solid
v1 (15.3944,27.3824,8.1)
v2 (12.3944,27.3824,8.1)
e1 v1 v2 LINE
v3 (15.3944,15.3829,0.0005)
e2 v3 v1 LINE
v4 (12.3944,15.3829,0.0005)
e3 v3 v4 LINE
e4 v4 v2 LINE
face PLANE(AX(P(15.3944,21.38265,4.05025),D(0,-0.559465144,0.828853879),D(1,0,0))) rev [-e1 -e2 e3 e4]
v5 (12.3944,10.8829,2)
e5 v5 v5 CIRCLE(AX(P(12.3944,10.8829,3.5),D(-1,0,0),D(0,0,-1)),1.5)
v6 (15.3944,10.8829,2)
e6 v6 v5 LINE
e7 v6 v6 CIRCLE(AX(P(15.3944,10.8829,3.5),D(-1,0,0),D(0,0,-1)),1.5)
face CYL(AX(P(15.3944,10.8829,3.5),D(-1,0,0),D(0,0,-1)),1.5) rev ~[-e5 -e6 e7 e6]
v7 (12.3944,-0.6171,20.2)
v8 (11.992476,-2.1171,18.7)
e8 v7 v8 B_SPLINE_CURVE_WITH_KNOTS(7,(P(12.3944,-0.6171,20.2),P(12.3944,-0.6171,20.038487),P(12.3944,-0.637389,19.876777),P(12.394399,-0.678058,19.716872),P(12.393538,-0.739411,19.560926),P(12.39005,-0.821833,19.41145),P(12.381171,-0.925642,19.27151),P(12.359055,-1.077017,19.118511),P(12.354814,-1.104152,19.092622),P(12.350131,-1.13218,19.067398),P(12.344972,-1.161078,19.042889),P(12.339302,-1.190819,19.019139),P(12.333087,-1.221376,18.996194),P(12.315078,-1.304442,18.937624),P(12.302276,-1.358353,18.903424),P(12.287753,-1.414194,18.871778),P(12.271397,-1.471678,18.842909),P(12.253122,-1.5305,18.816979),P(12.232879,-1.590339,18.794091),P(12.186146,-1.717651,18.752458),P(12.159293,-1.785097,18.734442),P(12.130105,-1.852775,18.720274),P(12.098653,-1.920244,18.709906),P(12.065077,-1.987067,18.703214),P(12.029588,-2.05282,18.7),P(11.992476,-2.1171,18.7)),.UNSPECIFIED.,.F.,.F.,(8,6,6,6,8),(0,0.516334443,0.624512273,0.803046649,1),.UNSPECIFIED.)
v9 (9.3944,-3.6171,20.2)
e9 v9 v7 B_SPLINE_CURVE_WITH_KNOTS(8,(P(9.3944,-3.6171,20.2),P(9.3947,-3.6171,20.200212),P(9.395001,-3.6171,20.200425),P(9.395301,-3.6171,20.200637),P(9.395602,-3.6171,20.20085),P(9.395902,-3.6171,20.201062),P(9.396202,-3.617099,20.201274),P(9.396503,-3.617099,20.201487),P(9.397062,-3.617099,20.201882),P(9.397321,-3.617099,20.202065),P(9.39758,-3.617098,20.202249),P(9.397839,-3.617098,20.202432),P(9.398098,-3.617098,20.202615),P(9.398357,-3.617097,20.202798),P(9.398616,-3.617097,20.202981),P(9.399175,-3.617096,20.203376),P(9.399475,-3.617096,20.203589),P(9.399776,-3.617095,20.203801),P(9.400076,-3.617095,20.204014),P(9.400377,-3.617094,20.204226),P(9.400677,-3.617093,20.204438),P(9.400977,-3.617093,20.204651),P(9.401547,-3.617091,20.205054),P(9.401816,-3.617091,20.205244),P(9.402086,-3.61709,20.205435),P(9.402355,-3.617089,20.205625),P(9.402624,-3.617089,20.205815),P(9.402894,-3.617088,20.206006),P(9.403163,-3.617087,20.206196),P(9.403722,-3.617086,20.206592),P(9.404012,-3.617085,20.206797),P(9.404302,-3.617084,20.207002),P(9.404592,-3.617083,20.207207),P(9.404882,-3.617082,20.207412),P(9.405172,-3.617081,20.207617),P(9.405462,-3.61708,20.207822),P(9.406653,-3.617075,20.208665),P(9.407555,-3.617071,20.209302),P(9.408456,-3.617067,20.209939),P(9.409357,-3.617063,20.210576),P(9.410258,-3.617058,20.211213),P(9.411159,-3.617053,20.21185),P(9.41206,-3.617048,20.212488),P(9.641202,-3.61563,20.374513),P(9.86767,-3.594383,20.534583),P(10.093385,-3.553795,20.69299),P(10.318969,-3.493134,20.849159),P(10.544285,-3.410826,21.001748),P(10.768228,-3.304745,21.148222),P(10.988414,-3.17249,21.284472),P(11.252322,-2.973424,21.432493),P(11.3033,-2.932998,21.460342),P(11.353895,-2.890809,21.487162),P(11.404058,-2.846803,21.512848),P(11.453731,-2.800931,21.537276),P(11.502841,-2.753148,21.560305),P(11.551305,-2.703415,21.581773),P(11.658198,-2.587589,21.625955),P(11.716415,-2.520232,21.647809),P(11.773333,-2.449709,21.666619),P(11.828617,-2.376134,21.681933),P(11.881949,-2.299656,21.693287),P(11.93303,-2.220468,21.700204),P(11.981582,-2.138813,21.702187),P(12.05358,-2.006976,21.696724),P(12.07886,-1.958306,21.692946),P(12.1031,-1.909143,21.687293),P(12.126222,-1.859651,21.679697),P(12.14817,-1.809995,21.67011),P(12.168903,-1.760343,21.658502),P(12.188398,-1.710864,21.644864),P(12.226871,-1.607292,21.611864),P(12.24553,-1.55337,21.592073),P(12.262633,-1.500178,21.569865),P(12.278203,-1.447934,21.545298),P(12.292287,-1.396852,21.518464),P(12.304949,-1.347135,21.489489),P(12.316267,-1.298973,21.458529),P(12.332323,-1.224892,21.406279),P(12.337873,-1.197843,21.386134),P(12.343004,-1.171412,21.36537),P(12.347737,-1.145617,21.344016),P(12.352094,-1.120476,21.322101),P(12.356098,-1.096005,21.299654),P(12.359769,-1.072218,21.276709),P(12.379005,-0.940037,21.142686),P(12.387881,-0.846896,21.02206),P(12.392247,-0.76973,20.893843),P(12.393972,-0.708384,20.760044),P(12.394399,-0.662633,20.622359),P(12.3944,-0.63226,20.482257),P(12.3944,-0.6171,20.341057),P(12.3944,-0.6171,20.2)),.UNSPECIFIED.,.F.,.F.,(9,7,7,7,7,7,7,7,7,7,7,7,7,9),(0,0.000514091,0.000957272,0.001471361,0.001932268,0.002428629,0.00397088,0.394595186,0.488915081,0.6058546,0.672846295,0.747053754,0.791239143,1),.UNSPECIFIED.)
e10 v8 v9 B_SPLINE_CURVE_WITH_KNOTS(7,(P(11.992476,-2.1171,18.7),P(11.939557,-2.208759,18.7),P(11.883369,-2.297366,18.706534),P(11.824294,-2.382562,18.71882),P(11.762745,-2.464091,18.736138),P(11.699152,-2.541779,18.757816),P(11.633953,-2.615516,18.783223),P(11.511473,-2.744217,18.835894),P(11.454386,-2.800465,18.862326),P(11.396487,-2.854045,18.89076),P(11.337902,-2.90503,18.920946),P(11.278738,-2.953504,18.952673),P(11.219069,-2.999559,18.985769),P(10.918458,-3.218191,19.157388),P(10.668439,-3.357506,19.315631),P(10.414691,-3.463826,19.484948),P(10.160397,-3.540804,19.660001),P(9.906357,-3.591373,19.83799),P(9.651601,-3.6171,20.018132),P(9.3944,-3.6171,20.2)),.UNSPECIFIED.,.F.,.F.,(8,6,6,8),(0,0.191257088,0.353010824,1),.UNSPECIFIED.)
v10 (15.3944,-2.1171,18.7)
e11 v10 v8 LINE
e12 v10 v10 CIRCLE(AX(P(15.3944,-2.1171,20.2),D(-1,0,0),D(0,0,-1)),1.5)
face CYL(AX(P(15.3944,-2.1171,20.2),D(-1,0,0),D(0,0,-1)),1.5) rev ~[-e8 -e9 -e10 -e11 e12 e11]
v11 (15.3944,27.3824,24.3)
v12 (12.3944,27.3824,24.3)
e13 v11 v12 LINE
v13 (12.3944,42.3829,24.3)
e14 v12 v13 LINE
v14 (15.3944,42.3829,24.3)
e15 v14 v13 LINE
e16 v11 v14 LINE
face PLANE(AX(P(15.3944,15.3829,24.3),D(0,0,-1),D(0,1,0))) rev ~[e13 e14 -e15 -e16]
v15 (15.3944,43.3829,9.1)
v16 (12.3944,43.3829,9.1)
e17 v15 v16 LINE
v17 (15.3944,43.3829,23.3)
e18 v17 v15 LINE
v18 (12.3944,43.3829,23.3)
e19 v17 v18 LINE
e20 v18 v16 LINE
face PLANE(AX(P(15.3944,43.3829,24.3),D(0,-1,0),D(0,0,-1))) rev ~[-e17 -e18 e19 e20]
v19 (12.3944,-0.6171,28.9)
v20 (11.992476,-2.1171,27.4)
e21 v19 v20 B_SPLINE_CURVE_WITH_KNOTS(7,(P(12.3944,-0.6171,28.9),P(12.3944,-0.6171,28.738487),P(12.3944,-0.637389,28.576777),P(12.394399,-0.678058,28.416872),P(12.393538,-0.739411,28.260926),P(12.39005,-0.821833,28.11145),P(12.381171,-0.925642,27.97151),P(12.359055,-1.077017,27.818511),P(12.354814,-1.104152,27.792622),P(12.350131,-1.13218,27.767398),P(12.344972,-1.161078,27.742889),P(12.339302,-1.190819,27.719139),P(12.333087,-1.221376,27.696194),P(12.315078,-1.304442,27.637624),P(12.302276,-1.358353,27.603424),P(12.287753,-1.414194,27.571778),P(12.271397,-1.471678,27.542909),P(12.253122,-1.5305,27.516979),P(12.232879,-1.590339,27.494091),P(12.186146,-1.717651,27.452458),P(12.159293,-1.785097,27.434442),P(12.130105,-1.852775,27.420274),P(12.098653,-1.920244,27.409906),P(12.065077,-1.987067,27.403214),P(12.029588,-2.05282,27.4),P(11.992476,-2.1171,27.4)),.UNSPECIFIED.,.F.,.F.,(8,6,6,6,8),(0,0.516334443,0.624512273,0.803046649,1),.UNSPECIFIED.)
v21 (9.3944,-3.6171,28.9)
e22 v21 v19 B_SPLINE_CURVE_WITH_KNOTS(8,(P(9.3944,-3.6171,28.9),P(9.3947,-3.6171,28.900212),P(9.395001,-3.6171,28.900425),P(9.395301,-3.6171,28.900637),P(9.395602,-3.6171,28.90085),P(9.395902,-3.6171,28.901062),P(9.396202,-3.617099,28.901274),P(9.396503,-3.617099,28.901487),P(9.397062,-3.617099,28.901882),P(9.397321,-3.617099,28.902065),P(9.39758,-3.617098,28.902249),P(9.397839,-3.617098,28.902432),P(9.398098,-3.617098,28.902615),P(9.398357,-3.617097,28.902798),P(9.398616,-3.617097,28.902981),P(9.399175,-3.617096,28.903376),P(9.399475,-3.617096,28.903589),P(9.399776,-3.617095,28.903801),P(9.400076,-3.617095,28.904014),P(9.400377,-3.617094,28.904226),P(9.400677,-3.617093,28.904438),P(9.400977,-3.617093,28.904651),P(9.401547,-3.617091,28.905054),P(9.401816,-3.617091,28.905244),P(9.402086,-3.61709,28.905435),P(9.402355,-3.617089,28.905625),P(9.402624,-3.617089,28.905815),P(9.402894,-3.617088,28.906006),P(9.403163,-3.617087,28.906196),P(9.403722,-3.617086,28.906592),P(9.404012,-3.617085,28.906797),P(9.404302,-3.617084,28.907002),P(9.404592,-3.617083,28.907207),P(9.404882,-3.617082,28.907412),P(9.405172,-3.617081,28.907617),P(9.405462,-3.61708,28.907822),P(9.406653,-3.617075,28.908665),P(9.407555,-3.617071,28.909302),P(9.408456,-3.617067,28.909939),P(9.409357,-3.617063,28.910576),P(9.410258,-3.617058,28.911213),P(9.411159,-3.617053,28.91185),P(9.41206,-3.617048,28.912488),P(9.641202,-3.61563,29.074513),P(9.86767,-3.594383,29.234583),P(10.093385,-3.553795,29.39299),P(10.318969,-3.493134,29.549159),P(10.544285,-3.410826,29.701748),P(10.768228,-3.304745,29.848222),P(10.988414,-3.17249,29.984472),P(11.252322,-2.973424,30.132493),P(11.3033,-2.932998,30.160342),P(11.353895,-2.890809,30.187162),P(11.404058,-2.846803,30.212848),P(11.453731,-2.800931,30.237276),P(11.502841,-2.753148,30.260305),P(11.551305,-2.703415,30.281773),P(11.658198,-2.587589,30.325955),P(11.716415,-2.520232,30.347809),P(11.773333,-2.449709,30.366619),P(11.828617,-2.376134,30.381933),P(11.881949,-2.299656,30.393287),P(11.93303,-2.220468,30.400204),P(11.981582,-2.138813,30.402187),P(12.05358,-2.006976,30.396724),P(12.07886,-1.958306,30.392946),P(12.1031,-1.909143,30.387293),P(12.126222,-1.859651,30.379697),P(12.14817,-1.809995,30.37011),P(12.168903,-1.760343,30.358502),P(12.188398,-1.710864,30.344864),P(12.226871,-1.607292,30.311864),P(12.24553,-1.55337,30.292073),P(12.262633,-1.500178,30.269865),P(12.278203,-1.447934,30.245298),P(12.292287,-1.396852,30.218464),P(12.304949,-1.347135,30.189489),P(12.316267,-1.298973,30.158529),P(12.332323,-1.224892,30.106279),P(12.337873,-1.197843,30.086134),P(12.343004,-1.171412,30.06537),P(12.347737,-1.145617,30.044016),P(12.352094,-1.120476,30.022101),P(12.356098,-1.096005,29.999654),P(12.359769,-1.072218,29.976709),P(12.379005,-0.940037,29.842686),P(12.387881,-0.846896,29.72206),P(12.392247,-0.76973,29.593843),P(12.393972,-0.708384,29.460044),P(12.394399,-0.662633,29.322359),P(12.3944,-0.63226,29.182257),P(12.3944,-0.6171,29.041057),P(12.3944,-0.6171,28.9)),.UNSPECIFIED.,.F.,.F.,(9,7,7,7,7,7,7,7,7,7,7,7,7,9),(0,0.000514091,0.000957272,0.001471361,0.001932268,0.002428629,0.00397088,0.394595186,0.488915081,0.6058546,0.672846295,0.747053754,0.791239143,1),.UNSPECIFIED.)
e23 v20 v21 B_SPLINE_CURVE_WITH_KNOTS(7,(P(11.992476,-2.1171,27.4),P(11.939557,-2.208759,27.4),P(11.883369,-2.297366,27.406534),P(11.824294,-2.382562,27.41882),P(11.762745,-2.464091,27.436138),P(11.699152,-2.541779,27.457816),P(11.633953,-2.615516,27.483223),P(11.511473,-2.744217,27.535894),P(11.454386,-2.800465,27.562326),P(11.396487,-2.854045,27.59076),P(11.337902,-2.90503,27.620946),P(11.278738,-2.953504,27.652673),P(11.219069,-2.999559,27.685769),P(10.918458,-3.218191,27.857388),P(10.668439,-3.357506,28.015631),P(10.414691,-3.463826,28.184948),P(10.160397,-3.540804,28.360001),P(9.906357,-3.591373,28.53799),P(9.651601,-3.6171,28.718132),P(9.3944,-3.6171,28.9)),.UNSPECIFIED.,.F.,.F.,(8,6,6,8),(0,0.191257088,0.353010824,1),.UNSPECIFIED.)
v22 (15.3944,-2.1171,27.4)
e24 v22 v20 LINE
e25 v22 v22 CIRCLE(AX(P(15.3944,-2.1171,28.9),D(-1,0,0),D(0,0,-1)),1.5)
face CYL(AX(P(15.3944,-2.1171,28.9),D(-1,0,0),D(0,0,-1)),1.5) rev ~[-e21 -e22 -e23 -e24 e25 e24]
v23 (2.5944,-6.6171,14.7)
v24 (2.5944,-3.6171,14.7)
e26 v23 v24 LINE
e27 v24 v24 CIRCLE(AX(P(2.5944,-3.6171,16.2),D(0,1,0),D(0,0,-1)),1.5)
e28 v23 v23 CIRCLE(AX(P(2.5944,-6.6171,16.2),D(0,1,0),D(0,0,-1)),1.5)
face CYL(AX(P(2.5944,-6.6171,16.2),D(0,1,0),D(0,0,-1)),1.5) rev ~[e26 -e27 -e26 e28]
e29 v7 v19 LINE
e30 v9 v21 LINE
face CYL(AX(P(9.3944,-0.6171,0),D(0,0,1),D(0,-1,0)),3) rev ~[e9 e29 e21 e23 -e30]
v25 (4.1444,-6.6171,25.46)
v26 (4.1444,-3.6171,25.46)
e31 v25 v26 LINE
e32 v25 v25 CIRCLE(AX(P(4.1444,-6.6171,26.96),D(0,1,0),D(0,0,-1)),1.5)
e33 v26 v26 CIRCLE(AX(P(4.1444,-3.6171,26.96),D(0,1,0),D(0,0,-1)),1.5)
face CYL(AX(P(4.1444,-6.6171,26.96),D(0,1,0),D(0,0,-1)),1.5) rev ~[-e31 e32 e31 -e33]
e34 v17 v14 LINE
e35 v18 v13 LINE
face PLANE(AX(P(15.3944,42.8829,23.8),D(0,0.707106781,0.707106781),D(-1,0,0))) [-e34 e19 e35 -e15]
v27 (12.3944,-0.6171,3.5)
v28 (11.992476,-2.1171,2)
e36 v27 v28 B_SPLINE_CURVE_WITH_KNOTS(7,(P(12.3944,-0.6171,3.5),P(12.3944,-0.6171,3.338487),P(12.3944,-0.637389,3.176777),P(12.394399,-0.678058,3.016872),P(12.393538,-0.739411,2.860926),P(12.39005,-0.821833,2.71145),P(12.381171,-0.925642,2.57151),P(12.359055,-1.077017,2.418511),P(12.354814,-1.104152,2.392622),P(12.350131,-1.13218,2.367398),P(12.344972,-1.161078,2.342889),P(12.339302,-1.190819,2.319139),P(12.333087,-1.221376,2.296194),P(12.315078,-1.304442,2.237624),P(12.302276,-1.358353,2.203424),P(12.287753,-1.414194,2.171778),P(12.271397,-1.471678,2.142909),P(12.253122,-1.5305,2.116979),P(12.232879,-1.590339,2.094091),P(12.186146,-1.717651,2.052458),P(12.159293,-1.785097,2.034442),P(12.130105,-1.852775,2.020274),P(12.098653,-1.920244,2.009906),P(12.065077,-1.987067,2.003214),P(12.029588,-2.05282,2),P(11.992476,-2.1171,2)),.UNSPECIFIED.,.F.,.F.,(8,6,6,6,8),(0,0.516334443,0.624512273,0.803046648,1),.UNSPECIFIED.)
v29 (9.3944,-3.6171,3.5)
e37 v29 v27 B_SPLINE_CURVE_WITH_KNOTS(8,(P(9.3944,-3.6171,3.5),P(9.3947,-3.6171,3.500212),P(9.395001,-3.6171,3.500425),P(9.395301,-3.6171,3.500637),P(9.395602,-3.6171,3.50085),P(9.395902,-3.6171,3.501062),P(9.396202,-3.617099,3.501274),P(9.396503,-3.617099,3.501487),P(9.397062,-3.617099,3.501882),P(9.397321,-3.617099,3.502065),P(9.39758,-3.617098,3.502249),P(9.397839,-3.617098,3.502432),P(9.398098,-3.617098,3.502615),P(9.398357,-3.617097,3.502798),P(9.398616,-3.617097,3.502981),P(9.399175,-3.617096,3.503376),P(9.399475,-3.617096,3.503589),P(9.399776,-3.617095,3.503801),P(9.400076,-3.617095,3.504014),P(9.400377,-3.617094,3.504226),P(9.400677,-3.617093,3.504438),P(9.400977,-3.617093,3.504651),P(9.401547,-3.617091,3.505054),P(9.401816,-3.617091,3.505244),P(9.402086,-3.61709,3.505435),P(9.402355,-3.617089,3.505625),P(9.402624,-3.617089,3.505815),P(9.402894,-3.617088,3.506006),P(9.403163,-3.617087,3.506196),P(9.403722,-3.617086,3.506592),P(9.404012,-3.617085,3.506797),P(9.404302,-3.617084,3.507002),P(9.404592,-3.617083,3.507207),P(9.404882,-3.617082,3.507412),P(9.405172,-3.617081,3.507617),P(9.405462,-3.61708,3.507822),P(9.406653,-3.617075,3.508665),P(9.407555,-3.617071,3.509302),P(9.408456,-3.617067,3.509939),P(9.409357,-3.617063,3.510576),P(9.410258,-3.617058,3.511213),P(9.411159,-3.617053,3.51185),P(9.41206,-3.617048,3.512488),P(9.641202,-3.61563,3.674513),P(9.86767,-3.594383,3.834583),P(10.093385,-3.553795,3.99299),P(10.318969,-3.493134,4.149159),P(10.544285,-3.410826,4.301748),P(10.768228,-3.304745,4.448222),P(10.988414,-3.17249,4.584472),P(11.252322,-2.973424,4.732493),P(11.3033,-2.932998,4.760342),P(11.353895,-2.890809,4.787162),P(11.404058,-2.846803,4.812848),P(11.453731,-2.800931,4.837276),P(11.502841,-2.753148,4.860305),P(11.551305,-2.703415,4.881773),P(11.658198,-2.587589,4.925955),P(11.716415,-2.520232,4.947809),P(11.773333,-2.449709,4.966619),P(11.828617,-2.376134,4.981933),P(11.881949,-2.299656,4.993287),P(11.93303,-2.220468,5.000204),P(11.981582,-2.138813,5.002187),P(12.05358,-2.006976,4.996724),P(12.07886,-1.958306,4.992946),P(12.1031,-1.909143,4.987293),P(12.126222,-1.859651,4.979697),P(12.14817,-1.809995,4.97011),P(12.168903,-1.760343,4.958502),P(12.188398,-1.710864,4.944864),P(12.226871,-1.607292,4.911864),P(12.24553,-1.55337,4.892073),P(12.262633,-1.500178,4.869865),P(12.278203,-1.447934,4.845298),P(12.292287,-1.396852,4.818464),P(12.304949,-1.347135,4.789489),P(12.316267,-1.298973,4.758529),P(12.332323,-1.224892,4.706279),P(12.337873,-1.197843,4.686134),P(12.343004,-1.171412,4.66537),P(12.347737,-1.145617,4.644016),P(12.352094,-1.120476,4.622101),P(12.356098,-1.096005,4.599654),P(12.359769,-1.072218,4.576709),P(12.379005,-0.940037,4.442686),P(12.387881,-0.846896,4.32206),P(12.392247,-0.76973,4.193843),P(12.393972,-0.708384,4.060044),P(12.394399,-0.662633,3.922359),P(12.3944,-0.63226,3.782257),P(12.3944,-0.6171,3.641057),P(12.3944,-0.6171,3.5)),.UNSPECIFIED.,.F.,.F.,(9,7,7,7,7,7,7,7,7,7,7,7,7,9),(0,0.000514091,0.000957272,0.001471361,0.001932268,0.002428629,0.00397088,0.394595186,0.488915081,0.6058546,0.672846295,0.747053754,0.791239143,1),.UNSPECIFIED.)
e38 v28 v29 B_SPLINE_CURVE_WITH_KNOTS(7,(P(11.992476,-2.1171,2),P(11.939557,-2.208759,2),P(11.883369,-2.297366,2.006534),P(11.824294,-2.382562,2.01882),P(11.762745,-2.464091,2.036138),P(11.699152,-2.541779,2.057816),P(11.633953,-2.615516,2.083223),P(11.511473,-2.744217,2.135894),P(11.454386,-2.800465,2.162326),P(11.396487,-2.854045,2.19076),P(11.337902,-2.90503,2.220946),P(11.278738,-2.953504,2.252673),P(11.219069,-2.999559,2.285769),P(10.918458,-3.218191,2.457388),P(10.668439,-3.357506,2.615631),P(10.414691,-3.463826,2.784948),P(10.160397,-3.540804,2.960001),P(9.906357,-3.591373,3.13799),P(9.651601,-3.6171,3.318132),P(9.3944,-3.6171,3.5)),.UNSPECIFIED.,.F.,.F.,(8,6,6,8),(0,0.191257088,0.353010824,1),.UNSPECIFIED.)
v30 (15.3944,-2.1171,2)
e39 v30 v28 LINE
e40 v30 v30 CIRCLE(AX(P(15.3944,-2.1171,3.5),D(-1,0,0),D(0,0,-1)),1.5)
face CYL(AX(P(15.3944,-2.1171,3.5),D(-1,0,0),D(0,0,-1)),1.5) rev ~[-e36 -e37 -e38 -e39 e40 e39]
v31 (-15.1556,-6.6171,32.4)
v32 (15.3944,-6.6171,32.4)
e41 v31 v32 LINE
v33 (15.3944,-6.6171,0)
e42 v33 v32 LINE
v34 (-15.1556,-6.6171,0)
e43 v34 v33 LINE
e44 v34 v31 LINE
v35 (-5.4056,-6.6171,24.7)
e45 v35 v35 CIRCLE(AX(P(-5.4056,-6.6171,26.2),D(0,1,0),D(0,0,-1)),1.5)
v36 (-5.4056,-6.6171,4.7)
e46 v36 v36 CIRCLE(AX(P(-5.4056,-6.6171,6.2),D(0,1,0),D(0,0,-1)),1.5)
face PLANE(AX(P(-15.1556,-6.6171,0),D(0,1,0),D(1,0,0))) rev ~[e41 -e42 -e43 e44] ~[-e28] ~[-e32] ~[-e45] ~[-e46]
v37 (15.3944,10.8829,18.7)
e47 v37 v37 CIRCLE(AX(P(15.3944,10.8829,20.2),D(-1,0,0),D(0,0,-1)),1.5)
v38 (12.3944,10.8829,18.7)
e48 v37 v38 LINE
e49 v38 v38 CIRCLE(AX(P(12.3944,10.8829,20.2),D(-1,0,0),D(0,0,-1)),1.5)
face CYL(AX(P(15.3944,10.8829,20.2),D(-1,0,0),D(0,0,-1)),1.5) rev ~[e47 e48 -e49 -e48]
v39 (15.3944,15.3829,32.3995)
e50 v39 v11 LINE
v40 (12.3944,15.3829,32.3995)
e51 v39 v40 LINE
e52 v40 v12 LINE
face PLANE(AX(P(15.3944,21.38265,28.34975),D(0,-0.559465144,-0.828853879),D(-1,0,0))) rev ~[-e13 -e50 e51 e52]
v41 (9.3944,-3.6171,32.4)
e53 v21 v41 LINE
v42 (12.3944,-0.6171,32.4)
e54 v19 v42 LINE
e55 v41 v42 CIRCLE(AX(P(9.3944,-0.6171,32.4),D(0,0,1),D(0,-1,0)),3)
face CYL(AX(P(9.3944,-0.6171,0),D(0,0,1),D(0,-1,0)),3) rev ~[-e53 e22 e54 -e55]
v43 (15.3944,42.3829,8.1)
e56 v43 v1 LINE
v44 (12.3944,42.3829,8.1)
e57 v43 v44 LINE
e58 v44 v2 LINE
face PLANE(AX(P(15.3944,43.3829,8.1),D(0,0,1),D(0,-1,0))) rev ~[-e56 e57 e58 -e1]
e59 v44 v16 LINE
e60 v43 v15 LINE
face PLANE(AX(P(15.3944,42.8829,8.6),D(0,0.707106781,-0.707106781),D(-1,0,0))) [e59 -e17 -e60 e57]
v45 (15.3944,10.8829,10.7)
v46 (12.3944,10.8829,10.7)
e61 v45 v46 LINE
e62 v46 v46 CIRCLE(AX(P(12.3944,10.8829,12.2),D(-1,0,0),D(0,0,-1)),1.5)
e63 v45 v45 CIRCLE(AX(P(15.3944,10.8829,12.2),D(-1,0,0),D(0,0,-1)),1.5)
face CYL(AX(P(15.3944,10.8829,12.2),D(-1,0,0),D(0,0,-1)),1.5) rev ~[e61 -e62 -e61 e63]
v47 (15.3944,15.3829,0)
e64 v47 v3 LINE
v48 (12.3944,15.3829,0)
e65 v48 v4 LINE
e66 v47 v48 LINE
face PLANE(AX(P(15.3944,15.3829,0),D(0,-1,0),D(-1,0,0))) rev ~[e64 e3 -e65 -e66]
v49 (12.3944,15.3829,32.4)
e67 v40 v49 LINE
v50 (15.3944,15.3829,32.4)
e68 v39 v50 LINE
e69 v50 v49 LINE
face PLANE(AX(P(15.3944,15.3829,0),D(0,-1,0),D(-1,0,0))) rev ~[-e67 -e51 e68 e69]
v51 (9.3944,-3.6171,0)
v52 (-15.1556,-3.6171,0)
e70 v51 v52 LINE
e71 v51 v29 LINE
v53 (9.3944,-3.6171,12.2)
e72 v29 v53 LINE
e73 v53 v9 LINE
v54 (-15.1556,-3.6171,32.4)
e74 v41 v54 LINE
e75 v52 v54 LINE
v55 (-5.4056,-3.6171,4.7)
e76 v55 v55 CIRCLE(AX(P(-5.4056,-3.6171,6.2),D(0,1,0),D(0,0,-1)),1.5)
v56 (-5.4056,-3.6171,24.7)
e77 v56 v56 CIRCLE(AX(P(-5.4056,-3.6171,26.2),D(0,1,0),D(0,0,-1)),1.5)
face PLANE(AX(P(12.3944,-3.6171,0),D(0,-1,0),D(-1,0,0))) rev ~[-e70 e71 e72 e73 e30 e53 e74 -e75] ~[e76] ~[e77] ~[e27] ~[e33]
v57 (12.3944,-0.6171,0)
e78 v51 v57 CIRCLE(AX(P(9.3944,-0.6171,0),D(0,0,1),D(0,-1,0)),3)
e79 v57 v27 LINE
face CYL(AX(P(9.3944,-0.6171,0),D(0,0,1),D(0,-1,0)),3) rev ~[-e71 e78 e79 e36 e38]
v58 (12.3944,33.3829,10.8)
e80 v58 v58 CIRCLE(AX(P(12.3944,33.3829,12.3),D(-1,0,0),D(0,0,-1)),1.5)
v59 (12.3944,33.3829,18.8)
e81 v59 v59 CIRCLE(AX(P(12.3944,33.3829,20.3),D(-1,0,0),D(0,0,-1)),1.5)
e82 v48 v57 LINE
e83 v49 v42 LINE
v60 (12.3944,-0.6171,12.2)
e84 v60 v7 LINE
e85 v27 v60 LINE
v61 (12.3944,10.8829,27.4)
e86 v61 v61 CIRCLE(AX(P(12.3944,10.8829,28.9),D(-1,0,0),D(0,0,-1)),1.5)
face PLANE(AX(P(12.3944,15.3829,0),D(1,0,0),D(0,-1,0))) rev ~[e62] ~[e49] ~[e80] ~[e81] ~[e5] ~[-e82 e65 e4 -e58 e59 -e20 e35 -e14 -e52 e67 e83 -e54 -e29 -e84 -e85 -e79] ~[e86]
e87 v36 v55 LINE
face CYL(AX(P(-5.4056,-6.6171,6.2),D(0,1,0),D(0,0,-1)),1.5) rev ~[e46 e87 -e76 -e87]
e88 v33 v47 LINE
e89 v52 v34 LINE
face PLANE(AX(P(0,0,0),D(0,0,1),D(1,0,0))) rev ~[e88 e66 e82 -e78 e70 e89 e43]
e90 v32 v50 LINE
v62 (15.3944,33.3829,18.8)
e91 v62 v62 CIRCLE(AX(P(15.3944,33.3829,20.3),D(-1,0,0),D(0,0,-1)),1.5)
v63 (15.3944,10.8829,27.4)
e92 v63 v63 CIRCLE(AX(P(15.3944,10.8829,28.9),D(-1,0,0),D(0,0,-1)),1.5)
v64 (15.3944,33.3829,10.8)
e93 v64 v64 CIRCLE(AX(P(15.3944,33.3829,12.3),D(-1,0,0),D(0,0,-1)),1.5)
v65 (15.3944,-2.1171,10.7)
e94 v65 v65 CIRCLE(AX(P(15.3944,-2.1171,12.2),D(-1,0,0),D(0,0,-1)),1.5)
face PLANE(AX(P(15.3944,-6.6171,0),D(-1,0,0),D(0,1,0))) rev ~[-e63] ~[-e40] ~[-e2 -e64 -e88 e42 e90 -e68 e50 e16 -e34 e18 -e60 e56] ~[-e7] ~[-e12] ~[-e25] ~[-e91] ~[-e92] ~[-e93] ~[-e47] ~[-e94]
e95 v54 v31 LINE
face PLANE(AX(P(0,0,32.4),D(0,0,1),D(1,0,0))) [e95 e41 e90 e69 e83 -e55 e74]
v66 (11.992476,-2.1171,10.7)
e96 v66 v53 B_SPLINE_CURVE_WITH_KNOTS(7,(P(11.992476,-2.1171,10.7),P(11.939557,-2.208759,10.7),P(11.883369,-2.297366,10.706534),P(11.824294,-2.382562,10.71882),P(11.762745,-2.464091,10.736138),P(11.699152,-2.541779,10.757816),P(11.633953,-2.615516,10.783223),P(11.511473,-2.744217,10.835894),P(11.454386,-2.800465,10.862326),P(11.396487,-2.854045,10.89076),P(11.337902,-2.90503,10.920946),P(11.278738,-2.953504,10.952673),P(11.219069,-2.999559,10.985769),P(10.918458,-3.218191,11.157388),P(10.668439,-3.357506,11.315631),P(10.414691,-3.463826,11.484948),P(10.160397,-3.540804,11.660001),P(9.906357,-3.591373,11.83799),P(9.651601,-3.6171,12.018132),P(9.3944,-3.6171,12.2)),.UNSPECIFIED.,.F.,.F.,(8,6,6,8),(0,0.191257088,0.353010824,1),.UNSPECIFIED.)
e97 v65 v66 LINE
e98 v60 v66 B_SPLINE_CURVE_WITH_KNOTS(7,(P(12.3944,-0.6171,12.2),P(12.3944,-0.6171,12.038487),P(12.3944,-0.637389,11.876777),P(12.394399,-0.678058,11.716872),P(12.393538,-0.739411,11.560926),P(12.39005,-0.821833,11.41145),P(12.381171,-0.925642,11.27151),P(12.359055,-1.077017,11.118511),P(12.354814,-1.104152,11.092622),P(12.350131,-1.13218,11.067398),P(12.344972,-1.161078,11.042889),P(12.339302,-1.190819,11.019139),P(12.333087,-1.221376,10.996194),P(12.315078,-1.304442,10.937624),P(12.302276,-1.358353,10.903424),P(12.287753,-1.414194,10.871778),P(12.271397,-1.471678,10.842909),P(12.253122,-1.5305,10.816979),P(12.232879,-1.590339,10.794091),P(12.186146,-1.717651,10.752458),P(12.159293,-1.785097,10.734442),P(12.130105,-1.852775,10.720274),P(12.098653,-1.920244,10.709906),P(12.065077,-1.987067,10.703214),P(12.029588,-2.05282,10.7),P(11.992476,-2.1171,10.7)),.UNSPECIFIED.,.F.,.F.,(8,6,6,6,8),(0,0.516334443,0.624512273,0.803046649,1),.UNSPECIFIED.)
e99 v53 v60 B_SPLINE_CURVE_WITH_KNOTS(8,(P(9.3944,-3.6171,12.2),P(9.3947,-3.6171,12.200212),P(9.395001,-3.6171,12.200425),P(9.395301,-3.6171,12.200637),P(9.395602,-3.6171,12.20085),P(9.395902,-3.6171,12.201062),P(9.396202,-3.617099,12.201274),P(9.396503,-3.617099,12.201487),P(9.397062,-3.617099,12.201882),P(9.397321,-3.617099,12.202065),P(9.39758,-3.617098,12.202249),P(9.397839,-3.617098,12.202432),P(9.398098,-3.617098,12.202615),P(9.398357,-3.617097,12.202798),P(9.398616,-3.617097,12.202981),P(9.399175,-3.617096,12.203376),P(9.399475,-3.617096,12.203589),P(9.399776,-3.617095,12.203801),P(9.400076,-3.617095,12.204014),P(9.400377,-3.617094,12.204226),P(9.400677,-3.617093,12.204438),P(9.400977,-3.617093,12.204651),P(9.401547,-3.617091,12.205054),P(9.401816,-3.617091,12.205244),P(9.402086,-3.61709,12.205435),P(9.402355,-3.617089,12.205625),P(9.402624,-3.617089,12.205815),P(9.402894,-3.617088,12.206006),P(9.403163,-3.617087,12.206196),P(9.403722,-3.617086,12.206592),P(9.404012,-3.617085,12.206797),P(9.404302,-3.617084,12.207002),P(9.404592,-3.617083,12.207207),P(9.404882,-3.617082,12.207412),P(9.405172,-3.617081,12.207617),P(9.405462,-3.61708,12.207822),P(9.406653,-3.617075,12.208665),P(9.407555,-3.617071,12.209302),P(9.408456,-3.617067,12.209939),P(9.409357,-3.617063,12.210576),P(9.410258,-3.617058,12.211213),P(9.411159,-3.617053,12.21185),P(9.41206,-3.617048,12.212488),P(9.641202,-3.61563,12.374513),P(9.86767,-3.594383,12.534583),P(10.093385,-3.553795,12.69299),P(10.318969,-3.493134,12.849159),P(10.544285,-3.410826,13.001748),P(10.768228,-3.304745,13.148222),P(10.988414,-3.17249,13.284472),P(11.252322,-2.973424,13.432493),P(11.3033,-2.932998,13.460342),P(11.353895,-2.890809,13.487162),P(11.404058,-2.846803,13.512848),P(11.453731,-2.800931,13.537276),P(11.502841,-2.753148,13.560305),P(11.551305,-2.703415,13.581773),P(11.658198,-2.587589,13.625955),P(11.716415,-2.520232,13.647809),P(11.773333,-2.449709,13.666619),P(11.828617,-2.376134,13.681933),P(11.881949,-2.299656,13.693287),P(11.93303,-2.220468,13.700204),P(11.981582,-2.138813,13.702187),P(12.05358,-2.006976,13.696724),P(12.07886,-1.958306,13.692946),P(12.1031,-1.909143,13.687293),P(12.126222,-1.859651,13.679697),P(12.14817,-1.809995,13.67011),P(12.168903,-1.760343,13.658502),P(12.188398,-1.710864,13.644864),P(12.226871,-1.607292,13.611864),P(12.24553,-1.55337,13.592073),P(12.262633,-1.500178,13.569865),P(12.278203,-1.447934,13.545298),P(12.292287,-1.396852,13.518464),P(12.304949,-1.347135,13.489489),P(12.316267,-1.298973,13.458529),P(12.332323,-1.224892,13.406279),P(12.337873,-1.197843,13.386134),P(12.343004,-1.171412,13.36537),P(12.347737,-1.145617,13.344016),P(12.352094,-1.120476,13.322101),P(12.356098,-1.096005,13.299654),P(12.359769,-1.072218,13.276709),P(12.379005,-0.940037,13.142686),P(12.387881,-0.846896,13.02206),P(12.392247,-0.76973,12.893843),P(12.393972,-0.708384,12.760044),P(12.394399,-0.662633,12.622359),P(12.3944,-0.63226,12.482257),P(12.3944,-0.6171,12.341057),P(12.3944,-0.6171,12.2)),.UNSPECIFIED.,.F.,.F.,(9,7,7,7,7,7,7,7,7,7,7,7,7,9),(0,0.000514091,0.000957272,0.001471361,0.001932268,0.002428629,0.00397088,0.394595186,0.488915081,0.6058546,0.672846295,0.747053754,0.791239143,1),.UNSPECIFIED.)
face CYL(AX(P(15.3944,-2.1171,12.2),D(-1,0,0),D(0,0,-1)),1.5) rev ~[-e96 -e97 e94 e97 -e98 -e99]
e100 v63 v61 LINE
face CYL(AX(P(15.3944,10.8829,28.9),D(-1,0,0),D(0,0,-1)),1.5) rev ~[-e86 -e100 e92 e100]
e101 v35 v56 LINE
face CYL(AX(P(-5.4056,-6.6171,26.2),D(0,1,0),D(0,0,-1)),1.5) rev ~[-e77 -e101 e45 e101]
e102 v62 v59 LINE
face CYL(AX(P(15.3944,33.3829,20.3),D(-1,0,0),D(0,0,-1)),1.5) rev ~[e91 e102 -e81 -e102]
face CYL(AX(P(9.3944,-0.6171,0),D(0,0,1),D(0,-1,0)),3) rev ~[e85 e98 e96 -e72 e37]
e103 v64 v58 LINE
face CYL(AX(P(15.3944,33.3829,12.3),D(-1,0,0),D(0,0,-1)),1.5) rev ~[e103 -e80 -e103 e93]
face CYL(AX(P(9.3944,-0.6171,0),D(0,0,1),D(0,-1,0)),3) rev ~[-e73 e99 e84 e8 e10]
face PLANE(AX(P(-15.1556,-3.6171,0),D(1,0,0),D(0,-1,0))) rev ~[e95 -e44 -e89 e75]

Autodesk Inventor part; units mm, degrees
ref_plane "YZ Plane" through (0, 0, 0) normal (1, 0, 0) x (0, 1, 0)
ref_plane "XZ Plane" through (0, 0, 0) normal (0, 1, 0) x (-1, 0, 0)
ref_plane "XY Plane" through (0, 0, 0) normal (0, 0, 1) x (1, 0, 0)
sketch "Szkic1" plane through (0, 0, 0) normal (0, 0, 1) x (1, 0, 0)
  line L0 (-15.1556, -3.6171) -> (-15.1556, -6.6171)
  line L1 (-15.1556, -6.6171) -> (15.3944, -6.6171)
  line L2 (15.3944, -6.6171) -> (15.3944, 15.3829)
  line L3 (15.3944, 15.3829) -> (12.3944, 15.3829)
  line L4 (12.3944, 15.3829) -> (12.3944, -3.6171)
  line L5 (12.3944, -3.6171) -> (-15.1556, -3.6171)
  point P0 (0, 0)
  dimension "d0" = 3
  dimension "d1" = 30.55
  dimension "d2" = 22
  dimension "d3" = 3
extrude "Wyciągnięcie proste1" add sketch "Szkic1" along normal blind 32.4
fillet "Zaokrąglenie1" radius 3 1 edges at (12.3944, -3.6171, 16.2)
sketch "Szkic3" plane through (15.3944, -6.6171, 32.4) normal (1, 0, 0) x (0, 0, -1)
  line L0 (32.4, 22) -> (0, 22) projected
  line L1 (0, 0) -> (0, 22) projected
  line L2 (32.4, 0) -> (0, 0) projected
  line L3 (32.4, 0) -> (32.4, 22) projected
  line L4 (32.4, 22) -> (0, 22) projected
  line L5 (24.3, 22) -> (8.1, 22)
  line L6 (8.1, 22) -> (8.1, 50)
  line L7 (8.1, 50) -> (24.3, 50)
  line L8 (24.3, 50) -> (24.3, 22)
  point P0 (32.4, 6.6171)
  dimension "d48" = 16.2
  dimension "d49" = 28
  dimension "d50" = 32.4
  dimension "d51" = 8.1
extrude "Wyciągnięcie proste3" add sketch "Szkic3" against normal blind 3 contours L0 L6 L7 L8
sketch "Szkic4" plane through (-15.1556, -6.6171, 0) normal (0, -1, 0) x (1, 0, 0)
  line L0 (0, 0) -> (30.55, 0) projected
  line L1 (30.55, 0) -> (30.55, 32.4) projected
  line L2 (0, 32.4) -> (30.55, 32.4) projected
  line L3 (0, 0) -> (0, 32.4) projected
  point P0 (15.1556, 0)
  point P1 (9.75, 26.2)
  point P2 (9.75, 6.2)
  point P3 (17.75, 16.2)
  dimension "d37" = 9.75
  dimension "d38" = 9.75
  dimension "d39" = 6.2
  dimension "d40" = 6.2
  dimension "d69" = 32.4
  dimension "d70" = 16.2
  dimension "d71" = 17.75
hole "Otwór2" at (-5.4056, -6.6171, 26.2) at (-5.4056, -6.6171, 6.2) at (2.5944, -6.6171, 16.2) direction (0, 1, 0) diameter 3 end through all
sketch "Szkic5" plane through (15.3944, -6.6171, 0) normal (1, 0, 0) x (0, 0, -1)
  line L0 (0, 0) -> (0, 22) projected
  line L1 (0, 22) -> (-8.1, 22) projected
  line L2 (-8.1, 22) -> (-8.1, 50) projected
  line L3 (-8.1, 50) -> (-24.3, 50) projected
  line L4 (-24.3, 50) -> (-24.3, 22) projected
  line L5 (-24.3, 22) -> (-32.4, 22) projected
  line L6 (-32.4, 0) -> (-32.4, 22) projected
  line L7 (0, 0) -> (-32.4, 0) projected
  point P0 (0, 6.6171)
  point P1 (-12.3, 40)
  point P2 (-20.3, 40)
  dimension "d52" = 10
  dimension "d53" = 10
  dimension "d54" = 4
  dimension "d55" = 4.2
hole "Otwór3" at (15.3944, 33.3829, 12.3) at (15.3944, 33.3829, 20.3) direction (-1, 0, 0) diameter 3 end through all
chamfer "Faza2" distance 1 angle 45 2 edges at (13.8944, 43.3829, 24.3) (13.8944, 43.3829, 8.1)
chamfer "Faza4" distance 8.1 distance2 12 1 edges at (13.8944, 15.3829, 24.3) measured on face at (14.3944, 15.3829, 27)
chamfer "Faza5" distance 8.1 distance2 12 1 edges at (13.8944, 15.3829, 8.1) measured on face at (14.3944, 15.3829, 2.7)
sketch "Szkic6" plane through (15.3944, -6.6171, 32.4) normal (1, 0, 0) x (0, 0, -1)
  circle A0 centre (20.1, 40) radius 1.5 projected
  circle A1 centre (12.1, 40) radius 1.5 projected
  line L0 (23.3, 50) -> (24.3, 49) projected
  line L1 (23.3, 50) -> (9.1, 50) projected
  line L2 (8.1, 49) -> (9.1, 50) projected
  line L3 (8.1, 49) -> (8.1, 34) projected
  line L4 (0, 22) -> (8.1, 34) projected
  line L5 (0, 0) -> (0, 22) projected
  line L6 (32.4, 0) -> (0, 0) projected
  line L7 (32.4, 0) -> (32.4, 22) projected
  line L8 (24.3, 34) -> (32.4, 22) projected
  line L9 (24.3, 34) -> (24.3, 49) projected
  point P0 (32.4, 6.6171)
  point P1 (3.5, 17.5)
  point P2 (3.5, 4.5)
  point P3 (28.9, 17.5)
  point P4 (28.9, 4.5)
  point P5 (35.2902, 42.5614)
  point P6 (12.2, 17.5)
  point P7 (12.2, 4.5)
  point P8 (20.2, 17.5)
  point P9 (20.2, 4.5)
  dimension "d79" = 3.5
  dimension "d80" = 3.5
  dimension "d81" = 3.5
  dimension "d82" = 3.5
  dimension "d83" = 4.5
  dimension "d84" = 4.5
  dimension "d85" = 13
  dimension "d86" = 13
  dimension "d87" = 8.7
  dimension "d88" = 8.7
  dimension "d89" = 8.7
  dimension "d90" = 8.7
hole "Otwór4" at (15.3944, 10.8829, 28.9) at (15.3944, -2.1171, 28.9) at (15.3944, 10.8829, 3.5) at (15.3944, -2.1171, 3.5) at (15.3944, 35.9442, -2.8902) at (15.3944, 10.8829, 20.2) at (15.3944, -2.1171, 20.2) at (15.3944, 10.8829, 12.2) at (15.3944, -2.1171, 12.2) direction (-1, 0, 0) diameter 3 end through all
sketch "Szkic7" plane through (-15.1556, -6.6171, 0) normal (0, -1, 0) x (1, 0, 0)
  circle A0 centre (9.75, 6.2) radius 1.5 projected
  circle A1 centre (9.75, 26.2) radius 1.5 projected
  circle A2 centre (17.75, 16.2) radius 1.5 projected
  line L0 (0, 0) -> (30.55, 0) projected
  line L1 (30.55, 0) -> (30.55, 32.4) projected
  line L2 (0, 32.4) -> (30.55, 32.4) projected
  line L3 (0, 0) -> (0, 32.4) projected
  point P0 (15.1556, 0)
  point P1 (19.3, 26.96)
  dimension "d98" = 5.44
  dimension "d99" = 19.3
hole "Otwór5" at (4.1444, -6.6171, 26.96) direction (0, 1, 0) diameter 3 depth 8 tip angle 118
equation "\"d51\" = -0.5 * d48 + 0.5 * d50"
equation "\"d38\" = d37"
equation "\"d40\" = d39"
equation "\"d70\" = 0.5 * d69"
equation "\"d53\" = d52"
equation "\"d80\" = d79"
equation "\"d81\" = d79"
equation "\"d82\" = d79"
equation "\"d84\" = d83"
equation "\"d86\" = d85"
equation "\"d88\" = d87"
equation "\"d89\" = d87"
equation "\"d90\" = d87"
properties part number "CNCM_X_Axiss_Carriage_Belt_and_Cable_Chain_Mount"
